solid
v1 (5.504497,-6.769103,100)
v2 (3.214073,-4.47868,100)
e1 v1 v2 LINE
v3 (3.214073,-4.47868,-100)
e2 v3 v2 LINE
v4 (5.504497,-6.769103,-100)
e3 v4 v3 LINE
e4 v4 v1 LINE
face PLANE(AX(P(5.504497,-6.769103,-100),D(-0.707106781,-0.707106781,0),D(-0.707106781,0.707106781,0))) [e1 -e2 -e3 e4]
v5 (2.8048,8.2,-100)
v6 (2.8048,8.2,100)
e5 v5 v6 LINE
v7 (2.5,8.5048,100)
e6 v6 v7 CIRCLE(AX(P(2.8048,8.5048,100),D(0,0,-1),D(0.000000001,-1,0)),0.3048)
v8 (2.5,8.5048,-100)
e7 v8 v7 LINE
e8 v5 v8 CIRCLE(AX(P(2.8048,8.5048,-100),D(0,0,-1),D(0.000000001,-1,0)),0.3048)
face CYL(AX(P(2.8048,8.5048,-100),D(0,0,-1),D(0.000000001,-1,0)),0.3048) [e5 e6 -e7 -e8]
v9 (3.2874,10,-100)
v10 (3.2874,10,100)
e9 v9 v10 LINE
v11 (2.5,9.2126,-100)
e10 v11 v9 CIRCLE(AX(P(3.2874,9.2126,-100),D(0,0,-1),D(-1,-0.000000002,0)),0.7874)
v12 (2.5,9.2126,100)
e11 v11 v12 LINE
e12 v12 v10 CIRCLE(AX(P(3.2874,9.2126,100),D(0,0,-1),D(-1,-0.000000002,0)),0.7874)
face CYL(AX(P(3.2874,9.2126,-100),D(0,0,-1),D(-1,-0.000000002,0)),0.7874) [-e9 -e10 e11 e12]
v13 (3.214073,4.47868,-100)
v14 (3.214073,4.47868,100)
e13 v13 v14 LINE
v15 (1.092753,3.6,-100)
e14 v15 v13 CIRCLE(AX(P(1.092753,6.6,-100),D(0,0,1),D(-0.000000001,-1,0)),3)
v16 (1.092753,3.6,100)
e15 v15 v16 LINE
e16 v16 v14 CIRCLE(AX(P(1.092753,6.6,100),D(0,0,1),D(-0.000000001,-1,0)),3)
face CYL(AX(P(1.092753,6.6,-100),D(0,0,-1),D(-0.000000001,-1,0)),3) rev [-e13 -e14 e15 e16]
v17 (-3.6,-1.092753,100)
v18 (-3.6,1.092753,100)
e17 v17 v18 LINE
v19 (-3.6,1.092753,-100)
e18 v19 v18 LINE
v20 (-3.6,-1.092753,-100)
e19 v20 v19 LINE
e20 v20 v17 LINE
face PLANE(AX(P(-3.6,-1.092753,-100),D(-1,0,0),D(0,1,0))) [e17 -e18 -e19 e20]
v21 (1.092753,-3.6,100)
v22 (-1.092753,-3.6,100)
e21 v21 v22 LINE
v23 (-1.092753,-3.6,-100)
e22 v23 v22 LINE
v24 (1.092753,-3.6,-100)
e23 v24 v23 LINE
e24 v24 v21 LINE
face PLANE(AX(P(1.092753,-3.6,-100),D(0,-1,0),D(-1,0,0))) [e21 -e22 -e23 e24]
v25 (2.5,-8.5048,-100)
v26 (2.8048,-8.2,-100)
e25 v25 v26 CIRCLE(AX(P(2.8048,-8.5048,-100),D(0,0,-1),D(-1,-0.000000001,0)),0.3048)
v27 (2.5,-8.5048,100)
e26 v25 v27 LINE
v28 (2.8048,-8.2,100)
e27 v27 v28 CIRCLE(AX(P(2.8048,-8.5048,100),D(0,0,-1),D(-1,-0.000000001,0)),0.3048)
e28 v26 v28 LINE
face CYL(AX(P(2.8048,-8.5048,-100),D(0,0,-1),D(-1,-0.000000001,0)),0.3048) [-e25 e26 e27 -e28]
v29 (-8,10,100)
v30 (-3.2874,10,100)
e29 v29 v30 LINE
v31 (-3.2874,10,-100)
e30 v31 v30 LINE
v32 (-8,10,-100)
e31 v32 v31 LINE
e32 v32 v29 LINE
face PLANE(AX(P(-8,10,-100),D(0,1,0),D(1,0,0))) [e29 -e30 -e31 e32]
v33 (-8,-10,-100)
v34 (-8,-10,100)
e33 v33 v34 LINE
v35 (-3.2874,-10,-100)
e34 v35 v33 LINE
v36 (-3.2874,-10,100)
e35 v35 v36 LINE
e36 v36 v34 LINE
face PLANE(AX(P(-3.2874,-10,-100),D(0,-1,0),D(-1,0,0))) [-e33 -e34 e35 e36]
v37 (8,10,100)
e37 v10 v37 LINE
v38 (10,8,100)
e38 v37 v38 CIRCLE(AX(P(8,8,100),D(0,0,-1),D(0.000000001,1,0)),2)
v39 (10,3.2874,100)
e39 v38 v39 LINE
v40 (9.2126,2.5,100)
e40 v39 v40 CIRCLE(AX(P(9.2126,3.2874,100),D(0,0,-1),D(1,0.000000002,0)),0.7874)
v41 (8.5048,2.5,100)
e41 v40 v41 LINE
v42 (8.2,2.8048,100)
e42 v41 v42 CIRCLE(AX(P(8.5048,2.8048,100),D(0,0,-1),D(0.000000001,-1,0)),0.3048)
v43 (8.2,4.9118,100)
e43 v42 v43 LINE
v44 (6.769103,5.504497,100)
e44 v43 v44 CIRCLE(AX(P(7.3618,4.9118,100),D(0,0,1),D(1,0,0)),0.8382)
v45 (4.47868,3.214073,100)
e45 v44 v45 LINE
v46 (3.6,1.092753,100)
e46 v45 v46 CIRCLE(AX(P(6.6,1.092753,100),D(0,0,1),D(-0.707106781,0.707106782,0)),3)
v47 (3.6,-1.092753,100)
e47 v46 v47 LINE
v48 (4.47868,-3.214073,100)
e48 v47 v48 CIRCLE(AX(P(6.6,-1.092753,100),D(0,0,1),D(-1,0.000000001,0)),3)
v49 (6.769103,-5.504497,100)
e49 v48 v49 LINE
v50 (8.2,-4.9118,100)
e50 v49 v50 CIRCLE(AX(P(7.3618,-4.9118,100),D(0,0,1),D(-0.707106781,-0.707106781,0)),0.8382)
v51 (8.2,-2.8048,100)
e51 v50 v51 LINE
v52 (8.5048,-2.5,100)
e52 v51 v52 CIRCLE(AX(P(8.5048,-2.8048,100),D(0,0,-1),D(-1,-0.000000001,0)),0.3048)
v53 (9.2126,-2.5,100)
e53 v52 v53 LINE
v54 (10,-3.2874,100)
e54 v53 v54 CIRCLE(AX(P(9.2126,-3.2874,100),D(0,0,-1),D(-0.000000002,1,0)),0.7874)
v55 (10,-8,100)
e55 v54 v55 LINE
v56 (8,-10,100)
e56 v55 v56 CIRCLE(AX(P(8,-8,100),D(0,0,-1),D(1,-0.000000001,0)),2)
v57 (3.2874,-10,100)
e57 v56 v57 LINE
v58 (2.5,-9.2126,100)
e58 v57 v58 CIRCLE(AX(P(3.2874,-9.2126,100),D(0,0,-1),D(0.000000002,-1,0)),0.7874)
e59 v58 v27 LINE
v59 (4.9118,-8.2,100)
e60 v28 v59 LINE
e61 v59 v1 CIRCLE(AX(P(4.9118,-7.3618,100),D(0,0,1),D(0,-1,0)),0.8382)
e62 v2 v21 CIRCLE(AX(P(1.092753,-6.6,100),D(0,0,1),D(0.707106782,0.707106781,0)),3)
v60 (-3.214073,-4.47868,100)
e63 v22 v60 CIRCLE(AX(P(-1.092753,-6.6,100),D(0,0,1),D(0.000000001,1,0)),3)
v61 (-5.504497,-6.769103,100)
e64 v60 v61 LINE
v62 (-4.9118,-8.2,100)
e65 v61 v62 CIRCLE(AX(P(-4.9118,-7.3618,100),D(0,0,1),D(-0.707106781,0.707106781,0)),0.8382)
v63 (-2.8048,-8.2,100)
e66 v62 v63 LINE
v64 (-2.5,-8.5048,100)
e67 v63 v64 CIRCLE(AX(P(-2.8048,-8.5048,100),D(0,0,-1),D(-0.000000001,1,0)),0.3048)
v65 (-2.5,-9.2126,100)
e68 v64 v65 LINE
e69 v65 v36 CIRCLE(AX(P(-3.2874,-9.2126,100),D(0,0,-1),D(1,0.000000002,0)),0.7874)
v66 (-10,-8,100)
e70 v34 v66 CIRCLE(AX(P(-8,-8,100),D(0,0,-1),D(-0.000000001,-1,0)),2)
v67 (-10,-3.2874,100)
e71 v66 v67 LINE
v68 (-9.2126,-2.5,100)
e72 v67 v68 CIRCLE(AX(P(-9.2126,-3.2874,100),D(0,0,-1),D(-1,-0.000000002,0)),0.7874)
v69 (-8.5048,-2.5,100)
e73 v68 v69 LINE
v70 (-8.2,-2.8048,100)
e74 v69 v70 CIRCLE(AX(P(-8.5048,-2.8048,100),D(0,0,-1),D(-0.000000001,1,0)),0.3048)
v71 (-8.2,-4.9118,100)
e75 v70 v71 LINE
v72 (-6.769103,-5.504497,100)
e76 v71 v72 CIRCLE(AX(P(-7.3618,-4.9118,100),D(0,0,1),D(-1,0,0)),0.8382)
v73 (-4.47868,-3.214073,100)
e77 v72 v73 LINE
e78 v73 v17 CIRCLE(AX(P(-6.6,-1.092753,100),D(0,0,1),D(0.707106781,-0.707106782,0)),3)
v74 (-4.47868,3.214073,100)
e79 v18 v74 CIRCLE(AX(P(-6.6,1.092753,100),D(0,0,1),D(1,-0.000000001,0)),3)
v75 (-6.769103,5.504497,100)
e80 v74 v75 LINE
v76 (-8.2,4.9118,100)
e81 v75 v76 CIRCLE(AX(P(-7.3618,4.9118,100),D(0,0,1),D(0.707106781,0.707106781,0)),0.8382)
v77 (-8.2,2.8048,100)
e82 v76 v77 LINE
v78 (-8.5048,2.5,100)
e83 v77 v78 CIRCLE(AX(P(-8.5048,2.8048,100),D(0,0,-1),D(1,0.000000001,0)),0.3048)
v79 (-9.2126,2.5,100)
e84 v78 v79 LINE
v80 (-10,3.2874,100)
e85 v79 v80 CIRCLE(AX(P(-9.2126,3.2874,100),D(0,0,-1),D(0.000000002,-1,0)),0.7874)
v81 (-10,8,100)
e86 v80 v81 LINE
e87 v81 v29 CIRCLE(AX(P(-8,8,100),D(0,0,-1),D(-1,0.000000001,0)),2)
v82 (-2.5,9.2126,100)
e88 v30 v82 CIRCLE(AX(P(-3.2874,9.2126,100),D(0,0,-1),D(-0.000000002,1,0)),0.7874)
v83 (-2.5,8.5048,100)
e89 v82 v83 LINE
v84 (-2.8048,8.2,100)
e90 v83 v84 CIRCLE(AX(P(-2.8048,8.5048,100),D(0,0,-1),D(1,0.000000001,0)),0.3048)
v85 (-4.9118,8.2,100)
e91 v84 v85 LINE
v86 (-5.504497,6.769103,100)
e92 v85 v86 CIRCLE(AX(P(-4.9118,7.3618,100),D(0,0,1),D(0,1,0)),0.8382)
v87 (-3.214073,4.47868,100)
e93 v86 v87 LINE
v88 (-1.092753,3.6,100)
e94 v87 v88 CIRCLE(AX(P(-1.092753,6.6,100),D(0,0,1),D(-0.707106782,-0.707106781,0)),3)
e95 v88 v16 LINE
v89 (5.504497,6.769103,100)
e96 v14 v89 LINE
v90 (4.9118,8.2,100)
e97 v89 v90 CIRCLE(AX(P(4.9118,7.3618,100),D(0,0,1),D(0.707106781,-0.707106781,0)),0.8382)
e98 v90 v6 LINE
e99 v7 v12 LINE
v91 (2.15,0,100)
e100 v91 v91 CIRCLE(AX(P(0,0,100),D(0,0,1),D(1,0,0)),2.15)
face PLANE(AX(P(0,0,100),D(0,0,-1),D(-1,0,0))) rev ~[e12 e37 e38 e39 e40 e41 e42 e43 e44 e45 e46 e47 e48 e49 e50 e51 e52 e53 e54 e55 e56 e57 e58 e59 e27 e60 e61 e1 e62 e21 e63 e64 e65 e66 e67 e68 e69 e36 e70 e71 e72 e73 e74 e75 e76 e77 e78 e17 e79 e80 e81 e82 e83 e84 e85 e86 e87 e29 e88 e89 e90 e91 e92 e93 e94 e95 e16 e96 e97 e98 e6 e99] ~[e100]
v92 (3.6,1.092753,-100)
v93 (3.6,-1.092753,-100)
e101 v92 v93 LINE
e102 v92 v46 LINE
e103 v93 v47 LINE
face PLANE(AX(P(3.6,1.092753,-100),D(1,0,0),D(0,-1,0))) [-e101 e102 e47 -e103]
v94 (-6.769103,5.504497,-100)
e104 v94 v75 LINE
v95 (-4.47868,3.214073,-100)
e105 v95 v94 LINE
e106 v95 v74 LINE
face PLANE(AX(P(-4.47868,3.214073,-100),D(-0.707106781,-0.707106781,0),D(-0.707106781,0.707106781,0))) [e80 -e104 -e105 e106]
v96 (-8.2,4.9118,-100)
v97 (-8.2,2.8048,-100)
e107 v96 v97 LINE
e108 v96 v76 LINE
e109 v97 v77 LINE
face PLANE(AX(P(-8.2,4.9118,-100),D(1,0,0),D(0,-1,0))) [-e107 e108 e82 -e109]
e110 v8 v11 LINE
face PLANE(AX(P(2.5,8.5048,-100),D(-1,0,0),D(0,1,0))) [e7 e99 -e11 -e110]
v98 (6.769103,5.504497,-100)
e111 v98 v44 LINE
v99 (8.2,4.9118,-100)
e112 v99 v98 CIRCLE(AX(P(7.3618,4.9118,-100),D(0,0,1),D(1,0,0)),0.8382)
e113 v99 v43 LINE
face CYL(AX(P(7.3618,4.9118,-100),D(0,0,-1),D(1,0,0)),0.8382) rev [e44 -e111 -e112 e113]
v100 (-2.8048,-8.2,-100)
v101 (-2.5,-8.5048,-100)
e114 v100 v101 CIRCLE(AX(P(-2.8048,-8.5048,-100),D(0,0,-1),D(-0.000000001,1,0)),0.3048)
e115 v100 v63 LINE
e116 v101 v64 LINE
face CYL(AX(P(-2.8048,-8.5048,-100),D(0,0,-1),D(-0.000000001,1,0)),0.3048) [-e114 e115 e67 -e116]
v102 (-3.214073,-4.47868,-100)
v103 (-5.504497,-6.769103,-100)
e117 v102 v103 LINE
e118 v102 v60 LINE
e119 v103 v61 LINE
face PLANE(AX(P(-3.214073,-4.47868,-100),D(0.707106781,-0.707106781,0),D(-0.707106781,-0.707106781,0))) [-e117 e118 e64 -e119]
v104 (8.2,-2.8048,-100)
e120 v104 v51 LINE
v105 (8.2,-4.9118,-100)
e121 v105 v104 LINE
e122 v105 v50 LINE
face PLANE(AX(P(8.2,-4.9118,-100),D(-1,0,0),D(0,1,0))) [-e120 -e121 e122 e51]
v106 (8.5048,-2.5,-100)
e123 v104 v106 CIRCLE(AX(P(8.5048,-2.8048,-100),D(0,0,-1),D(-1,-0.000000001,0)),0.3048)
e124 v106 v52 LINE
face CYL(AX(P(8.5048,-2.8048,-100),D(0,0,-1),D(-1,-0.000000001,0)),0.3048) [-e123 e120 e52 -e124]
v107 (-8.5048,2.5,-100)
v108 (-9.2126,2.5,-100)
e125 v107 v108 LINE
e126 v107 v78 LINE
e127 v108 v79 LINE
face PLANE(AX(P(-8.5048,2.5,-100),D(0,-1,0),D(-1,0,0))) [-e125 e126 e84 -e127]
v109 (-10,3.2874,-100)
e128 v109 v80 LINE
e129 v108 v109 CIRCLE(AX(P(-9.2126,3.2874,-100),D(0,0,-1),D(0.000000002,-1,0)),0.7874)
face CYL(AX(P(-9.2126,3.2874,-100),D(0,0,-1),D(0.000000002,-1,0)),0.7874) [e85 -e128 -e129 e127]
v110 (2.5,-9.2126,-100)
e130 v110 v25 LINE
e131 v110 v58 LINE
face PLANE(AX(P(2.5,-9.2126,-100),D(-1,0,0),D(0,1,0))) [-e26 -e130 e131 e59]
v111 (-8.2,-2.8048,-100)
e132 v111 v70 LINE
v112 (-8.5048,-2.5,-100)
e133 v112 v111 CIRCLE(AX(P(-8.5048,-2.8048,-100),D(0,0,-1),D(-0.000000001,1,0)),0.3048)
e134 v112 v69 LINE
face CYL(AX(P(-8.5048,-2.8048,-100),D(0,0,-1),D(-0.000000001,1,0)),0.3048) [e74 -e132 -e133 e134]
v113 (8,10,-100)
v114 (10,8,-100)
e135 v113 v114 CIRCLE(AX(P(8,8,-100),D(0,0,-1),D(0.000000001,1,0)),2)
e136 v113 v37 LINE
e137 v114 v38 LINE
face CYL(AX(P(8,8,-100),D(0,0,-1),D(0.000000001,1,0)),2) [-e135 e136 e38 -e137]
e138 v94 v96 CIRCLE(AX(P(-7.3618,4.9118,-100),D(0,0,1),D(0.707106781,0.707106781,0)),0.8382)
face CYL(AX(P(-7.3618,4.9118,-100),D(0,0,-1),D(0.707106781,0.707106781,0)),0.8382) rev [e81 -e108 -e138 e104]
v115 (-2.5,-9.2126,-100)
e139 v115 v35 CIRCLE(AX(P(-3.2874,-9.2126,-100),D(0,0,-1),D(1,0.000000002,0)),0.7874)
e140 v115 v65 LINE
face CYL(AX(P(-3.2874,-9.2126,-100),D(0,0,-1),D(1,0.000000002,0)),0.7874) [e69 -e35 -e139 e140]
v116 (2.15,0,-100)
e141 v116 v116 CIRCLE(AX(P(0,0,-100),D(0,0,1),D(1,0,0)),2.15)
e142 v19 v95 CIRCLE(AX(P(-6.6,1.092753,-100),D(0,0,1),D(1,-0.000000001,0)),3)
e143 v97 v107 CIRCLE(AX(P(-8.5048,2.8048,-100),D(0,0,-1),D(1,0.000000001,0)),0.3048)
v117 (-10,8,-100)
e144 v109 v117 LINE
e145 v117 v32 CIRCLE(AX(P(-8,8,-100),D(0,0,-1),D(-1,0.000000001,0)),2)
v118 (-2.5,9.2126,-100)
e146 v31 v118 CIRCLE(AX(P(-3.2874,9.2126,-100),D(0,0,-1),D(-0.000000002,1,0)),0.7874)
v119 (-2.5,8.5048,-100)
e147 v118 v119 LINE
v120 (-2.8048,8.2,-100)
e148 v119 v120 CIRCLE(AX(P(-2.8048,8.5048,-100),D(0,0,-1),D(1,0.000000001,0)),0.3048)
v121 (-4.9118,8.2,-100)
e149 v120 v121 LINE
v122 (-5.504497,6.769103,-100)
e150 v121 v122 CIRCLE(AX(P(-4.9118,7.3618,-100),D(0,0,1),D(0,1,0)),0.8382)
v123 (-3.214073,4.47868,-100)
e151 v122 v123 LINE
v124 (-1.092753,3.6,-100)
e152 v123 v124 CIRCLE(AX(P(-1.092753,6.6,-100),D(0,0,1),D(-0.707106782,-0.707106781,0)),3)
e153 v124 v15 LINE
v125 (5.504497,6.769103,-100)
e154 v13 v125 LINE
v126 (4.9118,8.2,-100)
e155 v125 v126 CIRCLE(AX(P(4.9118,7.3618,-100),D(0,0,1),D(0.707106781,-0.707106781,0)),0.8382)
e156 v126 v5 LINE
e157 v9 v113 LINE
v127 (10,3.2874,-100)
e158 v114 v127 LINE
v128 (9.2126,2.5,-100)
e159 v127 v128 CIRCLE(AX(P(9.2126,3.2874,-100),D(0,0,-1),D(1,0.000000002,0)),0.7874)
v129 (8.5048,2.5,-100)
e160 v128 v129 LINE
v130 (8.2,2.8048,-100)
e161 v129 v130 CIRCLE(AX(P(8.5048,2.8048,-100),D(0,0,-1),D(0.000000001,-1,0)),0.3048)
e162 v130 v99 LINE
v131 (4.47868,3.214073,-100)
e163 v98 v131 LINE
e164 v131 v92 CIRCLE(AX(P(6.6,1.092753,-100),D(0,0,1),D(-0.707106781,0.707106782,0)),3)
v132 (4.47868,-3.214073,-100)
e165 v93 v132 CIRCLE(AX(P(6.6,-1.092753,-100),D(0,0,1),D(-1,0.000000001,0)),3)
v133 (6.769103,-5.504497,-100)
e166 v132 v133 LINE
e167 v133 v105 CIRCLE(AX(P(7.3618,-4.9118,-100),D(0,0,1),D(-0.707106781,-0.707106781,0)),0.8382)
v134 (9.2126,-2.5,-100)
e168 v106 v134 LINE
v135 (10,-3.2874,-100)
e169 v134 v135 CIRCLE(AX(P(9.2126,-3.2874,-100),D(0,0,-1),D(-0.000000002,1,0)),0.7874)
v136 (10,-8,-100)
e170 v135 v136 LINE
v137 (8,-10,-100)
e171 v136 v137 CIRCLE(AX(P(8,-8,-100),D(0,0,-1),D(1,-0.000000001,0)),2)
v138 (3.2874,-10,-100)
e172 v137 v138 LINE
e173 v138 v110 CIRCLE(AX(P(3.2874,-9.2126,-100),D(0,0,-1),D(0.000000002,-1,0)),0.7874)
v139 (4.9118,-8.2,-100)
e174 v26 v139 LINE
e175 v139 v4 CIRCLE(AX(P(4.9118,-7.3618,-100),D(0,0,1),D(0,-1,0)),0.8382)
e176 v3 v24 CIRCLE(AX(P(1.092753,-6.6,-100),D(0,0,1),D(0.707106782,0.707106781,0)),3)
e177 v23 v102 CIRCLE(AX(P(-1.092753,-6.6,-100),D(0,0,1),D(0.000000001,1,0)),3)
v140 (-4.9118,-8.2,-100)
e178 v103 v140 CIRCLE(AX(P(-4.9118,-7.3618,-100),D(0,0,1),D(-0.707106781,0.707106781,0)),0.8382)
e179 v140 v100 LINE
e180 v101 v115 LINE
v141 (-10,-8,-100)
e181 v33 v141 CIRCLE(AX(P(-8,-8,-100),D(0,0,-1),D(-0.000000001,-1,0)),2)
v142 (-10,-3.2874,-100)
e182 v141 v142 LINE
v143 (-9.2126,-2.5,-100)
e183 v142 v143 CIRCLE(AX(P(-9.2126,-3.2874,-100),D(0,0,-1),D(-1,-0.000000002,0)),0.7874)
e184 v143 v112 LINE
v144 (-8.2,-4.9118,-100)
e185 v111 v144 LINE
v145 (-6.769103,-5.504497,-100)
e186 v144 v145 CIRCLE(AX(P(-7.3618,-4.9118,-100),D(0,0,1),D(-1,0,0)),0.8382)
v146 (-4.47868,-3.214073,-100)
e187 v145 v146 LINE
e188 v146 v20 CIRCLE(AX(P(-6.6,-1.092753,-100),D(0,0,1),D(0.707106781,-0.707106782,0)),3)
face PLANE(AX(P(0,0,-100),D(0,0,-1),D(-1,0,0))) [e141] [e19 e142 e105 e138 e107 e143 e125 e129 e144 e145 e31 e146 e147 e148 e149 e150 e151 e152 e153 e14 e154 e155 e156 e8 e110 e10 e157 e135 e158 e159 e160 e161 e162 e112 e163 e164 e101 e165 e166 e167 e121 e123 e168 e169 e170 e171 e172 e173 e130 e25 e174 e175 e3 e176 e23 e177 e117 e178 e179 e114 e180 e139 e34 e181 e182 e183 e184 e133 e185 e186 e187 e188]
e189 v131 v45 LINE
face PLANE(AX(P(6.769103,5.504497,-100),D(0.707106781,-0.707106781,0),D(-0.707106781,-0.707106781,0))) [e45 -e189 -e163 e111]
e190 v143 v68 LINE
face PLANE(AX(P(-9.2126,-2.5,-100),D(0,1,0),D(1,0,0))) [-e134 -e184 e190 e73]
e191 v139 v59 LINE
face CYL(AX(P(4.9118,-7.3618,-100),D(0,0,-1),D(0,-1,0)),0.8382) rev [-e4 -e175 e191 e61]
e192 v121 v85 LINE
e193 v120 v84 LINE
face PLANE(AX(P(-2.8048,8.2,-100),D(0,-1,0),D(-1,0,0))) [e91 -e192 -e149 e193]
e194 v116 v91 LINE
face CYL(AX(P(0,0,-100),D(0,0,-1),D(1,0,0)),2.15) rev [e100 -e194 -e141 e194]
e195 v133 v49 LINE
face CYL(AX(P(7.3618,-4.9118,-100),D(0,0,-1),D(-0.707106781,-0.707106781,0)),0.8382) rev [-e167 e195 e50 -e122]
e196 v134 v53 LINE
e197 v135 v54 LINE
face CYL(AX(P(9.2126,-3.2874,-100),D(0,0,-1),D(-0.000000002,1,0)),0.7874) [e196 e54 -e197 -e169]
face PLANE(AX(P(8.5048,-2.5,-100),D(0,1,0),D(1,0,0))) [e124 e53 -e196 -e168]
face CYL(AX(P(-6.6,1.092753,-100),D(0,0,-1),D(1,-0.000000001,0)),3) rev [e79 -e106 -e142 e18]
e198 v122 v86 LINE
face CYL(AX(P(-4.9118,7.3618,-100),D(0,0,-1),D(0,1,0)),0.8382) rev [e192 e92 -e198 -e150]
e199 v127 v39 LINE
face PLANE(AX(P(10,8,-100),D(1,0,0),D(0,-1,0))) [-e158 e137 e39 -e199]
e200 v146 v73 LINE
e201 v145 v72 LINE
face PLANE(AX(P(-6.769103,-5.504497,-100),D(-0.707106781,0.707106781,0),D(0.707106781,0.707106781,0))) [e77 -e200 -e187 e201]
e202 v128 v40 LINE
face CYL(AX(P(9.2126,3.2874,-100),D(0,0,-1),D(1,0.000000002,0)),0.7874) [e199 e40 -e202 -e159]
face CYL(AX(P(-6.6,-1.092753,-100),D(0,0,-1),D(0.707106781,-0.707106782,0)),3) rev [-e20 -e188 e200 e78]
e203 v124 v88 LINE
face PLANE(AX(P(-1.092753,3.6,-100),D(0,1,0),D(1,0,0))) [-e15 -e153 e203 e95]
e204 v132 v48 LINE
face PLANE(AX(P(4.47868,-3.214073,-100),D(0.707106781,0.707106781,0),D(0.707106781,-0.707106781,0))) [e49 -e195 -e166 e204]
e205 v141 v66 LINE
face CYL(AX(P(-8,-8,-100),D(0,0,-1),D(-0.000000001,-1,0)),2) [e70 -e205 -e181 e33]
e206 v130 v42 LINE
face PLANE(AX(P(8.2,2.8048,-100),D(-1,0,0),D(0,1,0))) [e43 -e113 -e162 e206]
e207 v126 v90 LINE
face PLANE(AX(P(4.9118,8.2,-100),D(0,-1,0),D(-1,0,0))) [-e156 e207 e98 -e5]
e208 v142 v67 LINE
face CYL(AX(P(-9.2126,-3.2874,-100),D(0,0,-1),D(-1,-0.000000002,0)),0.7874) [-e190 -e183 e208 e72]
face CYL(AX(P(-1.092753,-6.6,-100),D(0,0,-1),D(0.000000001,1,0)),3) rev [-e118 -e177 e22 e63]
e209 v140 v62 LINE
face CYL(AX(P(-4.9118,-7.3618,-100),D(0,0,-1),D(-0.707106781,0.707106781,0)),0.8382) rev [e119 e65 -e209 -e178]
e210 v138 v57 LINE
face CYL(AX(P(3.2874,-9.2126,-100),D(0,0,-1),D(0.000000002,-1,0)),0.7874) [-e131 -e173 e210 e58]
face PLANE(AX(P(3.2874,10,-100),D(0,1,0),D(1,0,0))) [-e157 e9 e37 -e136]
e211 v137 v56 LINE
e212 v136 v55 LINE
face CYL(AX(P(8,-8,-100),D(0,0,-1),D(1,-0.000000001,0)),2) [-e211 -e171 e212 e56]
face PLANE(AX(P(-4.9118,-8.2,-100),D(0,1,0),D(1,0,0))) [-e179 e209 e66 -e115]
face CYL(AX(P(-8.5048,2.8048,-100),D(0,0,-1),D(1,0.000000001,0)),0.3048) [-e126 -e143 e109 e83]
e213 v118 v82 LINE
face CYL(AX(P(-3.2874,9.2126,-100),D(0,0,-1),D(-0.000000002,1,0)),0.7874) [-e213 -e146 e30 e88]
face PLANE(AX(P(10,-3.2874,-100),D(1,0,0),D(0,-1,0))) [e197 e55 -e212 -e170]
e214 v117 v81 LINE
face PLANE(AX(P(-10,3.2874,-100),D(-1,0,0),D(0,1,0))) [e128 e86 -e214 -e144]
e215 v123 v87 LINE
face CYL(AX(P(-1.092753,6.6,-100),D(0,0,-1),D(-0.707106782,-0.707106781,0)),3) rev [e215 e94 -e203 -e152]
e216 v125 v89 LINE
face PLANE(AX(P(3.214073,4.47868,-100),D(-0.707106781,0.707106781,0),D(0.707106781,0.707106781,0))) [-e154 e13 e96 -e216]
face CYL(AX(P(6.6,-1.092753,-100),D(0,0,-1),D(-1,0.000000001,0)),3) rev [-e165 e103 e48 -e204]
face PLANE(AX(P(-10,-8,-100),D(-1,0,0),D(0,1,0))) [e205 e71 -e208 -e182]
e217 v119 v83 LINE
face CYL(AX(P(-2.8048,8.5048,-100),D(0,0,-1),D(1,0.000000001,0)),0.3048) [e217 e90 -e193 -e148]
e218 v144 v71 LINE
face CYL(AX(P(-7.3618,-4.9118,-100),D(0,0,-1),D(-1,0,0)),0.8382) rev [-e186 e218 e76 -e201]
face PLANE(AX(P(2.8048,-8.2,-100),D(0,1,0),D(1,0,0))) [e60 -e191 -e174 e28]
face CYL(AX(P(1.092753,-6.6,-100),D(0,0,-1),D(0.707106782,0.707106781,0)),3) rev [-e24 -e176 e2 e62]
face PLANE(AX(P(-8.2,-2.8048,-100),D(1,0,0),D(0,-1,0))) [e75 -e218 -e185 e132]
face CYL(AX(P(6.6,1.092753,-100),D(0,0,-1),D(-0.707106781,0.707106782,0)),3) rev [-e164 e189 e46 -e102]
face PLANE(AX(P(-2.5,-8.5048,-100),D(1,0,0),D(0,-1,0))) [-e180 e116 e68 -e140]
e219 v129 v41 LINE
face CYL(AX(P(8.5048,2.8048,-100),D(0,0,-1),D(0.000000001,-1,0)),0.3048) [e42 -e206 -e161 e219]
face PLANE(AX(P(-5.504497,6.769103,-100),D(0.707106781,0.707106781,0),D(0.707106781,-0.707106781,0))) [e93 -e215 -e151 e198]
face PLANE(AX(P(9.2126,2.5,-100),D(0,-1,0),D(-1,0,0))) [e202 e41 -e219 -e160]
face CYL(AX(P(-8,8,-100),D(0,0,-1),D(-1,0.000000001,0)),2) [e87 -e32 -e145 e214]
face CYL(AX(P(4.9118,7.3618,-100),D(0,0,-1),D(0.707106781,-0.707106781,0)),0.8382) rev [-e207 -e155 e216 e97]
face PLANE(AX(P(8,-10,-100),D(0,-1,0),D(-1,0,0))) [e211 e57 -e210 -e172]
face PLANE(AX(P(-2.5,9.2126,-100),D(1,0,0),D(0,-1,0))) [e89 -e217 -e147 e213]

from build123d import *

# Parameters (mm, degrees)
BOSS_EXTRUDE1_DEPTH      = 100
BOSS_EXTRUDE1_DEPTH_BACK = 100
SKETCH3_R                = 2.15


with BuildPart() as part:
    # Sketch3 → Boss-Extrude1 (new, two sides: drawn at the far end of the back side and taken through both)
    with BuildSketch(Plane.XY.offset(-BOSS_EXTRUDE1_DEPTH_BACK)):
        with BuildLine():
            Line((3.2874, 10), (8, 10))
            ThreePointArc((8, 10), (9.414213562, 9.414213562), (10, 8))
            Line((10, 8), (10, 3.2874))
            ThreePointArc((10, 3.2874), (9.76937588, 2.73062412), (9.2126, 2.5))
            Line((9.2126, 2.5), (8.5048, 2.5))
            ThreePointArc((8.5048, 2.5), (8.289273853, 2.589273853), (8.2, 2.8048))
            Line((8.2, 2.8048), (8.2, 4.9118))
            ThreePointArc((8.2, 4.9118), (7.682565253, 5.686195824), (6.769103096, 5.504496904))
            Line((6.769103096, 5.504496904), (4.478679656, 3.214073464))
            ThreePointArc((4.478679656, 3.214073464), (3.828361402, 2.240803418), (3.6, 1.092753121))
            Line((3.6, 1.092753121), (3.6, -1.092753121))
            ThreePointArc((3.6, -1.092753121), (3.828361402, -2.240803418), (4.478679656, -3.214073464))
            Line((4.478679656, -3.214073464), (6.769103096, -5.504496904))
            ThreePointArc((6.769103096, -5.504496904), (7.682565253, -5.686195824), (8.2, -4.9118))
            Line((8.2, -4.9118), (8.2, -2.8048))
            ThreePointArc((8.2, -2.8048), (8.289273853, -2.589273853), (8.5048, -2.5))
            Line((8.5048, -2.5), (9.2126, -2.5))
            ThreePointArc((9.2126, -2.5), (9.76937588, -2.73062412), (10, -3.2874))
            Line((10, -3.2874), (10, -8))
            ThreePointArc((10, -8), (9.414213562, -9.414213562), (8, -10))
            Line((8, -10), (3.2874, -10))
            ThreePointArc((3.2874, -10), (2.73062412, -9.76937588), (2.5, -9.2126))
            Line((2.5, -9.2126), (2.5, -8.5048))
            ThreePointArc((2.5, -8.5048), (2.589273853, -8.289273853), (2.8048, -8.2))
            Line((2.8048, -8.2), (4.9118, -8.2))
            ThreePointArc((4.9118, -8.2), (5.686195824, -7.682565253), (5.504496904, -6.769103096))
            Line((5.504496904, -6.769103096), (3.214073464, -4.478679656))
            ThreePointArc((3.214073464, -4.478679656), (2.240803418, -3.828361402), (1.092753121, -3.6))
            Line((1.092753121, -3.6), (-1.092753121, -3.6))
            ThreePointArc((-1.092753121, -3.6), (-2.240803418, -3.828361402), (-3.214073464, -4.478679656))
            Line((-3.214073464, -4.478679656), (-5.504496904, -6.769103096))
            ThreePointArc((-5.504496904, -6.769103096), (-5.686195824, -7.682565253), (-4.9118, -8.2))
            Line((-4.9118, -8.2), (-2.8048, -8.2))
            ThreePointArc((-2.8048, -8.2), (-2.589273853, -8.289273853), (-2.5, -8.5048))
            Line((-2.5, -8.5048), (-2.5, -9.2126))
            ThreePointArc((-2.5, -9.2126), (-2.73062412, -9.76937588), (-3.2874, -10))
            Line((-3.2874, -10), (-8, -10))
            ThreePointArc((-8, -10), (-9.414213562, -9.414213562), (-10, -8))
            Line((-10, -8), (-10, -3.2874))
            ThreePointArc((-10, -3.2874), (-9.76937588, -2.73062412), (-9.2126, -2.5))
            Line((-9.2126, -2.5), (-8.5048, -2.5))
            ThreePointArc((-8.5048, -2.5), (-8.289273853, -2.589273853), (-8.2, -2.8048))
            Line((-8.2, -2.8048), (-8.2, -4.9118))
            ThreePointArc((-8.2, -4.9118), (-7.682565253, -5.686195824), (-6.769103096, -5.504496904))
            Line((-6.769103096, -5.504496904), (-4.478679656, -3.214073464))
            ThreePointArc((-4.478679656, -3.214073464), (-3.828361402, -2.240803418), (-3.6, -1.092753121))
            Line((-3.6, -1.092753121), (-3.6, 1.092753121))
            ThreePointArc((-3.6, 1.092753121), (-3.828361402, 2.240803418), (-4.478679656, 3.214073464))
            Line((-4.478679656, 3.214073464), (-6.769103096, 5.504496904))
            ThreePointArc((-6.769103096, 5.504496904), (-7.682565253, 5.686195824), (-8.2, 4.9118))
            Line((-8.2, 4.9118), (-8.2, 2.8048))
            ThreePointArc((-8.2, 2.8048), (-8.289273853, 2.589273853), (-8.5048, 2.5))
            Line((-8.5048, 2.5), (-9.2126, 2.5))
            ThreePointArc((-9.2126, 2.5), (-9.76937588, 2.73062412), (-10, 3.2874))
            Line((-10, 3.2874), (-10, 8))
            ThreePointArc((-10, 8), (-9.414213562, 9.414213562), (-8, 10))
            Line((-8, 10), (-3.2874, 10))
            ThreePointArc((-3.2874, 10), (-2.73062412, 9.76937588), (-2.5, 9.2126))
            Line((-2.5, 9.2126), (-2.5, 8.5048))
            ThreePointArc((-2.5, 8.5048), (-2.589273853, 8.289273853), (-2.8048, 8.2))
            Line((-2.8048, 8.2), (-4.9118, 8.2))
            ThreePointArc((-4.9118, 8.2), (-5.686195824, 7.682565253), (-5.504496904, 6.769103096))
            Line((-5.504496904, 6.769103096), (-3.214073464, 4.478679656))
            ThreePointArc((-3.214073464, 4.478679656), (-2.240803418, 3.828361402), (-1.092753121, 3.6))
            Line((-1.092753121, 3.6), (1.092753121, 3.6))
            ThreePointArc((1.092753121, 3.6), (2.240803418, 3.828361402), (3.214073464, 4.478679656))
            Line((3.214073464, 4.478679656), (5.504496904, 6.769103096))
            ThreePointArc((5.504496904, 6.769103096), (5.686195824, 7.682565253), (4.9118, 8.2))
            Line((4.9118, 8.2), (2.8048, 8.2))
            ThreePointArc((2.8048, 8.2), (2.589273853, 8.289273853), (2.5, 8.5048))
            Line((2.5, 8.5048), (2.5, 9.2126))
            ThreePointArc((2.5, 9.2126), (2.73062412, 9.76937588), (3.2874, 10))
        make_face()
        Circle(SKETCH3_R, mode=Mode.SUBTRACT)
    extrude(amount=BOSS_EXTRUDE1_DEPTH + BOSS_EXTRUDE1_DEPTH_BACK)


solid = part.part
